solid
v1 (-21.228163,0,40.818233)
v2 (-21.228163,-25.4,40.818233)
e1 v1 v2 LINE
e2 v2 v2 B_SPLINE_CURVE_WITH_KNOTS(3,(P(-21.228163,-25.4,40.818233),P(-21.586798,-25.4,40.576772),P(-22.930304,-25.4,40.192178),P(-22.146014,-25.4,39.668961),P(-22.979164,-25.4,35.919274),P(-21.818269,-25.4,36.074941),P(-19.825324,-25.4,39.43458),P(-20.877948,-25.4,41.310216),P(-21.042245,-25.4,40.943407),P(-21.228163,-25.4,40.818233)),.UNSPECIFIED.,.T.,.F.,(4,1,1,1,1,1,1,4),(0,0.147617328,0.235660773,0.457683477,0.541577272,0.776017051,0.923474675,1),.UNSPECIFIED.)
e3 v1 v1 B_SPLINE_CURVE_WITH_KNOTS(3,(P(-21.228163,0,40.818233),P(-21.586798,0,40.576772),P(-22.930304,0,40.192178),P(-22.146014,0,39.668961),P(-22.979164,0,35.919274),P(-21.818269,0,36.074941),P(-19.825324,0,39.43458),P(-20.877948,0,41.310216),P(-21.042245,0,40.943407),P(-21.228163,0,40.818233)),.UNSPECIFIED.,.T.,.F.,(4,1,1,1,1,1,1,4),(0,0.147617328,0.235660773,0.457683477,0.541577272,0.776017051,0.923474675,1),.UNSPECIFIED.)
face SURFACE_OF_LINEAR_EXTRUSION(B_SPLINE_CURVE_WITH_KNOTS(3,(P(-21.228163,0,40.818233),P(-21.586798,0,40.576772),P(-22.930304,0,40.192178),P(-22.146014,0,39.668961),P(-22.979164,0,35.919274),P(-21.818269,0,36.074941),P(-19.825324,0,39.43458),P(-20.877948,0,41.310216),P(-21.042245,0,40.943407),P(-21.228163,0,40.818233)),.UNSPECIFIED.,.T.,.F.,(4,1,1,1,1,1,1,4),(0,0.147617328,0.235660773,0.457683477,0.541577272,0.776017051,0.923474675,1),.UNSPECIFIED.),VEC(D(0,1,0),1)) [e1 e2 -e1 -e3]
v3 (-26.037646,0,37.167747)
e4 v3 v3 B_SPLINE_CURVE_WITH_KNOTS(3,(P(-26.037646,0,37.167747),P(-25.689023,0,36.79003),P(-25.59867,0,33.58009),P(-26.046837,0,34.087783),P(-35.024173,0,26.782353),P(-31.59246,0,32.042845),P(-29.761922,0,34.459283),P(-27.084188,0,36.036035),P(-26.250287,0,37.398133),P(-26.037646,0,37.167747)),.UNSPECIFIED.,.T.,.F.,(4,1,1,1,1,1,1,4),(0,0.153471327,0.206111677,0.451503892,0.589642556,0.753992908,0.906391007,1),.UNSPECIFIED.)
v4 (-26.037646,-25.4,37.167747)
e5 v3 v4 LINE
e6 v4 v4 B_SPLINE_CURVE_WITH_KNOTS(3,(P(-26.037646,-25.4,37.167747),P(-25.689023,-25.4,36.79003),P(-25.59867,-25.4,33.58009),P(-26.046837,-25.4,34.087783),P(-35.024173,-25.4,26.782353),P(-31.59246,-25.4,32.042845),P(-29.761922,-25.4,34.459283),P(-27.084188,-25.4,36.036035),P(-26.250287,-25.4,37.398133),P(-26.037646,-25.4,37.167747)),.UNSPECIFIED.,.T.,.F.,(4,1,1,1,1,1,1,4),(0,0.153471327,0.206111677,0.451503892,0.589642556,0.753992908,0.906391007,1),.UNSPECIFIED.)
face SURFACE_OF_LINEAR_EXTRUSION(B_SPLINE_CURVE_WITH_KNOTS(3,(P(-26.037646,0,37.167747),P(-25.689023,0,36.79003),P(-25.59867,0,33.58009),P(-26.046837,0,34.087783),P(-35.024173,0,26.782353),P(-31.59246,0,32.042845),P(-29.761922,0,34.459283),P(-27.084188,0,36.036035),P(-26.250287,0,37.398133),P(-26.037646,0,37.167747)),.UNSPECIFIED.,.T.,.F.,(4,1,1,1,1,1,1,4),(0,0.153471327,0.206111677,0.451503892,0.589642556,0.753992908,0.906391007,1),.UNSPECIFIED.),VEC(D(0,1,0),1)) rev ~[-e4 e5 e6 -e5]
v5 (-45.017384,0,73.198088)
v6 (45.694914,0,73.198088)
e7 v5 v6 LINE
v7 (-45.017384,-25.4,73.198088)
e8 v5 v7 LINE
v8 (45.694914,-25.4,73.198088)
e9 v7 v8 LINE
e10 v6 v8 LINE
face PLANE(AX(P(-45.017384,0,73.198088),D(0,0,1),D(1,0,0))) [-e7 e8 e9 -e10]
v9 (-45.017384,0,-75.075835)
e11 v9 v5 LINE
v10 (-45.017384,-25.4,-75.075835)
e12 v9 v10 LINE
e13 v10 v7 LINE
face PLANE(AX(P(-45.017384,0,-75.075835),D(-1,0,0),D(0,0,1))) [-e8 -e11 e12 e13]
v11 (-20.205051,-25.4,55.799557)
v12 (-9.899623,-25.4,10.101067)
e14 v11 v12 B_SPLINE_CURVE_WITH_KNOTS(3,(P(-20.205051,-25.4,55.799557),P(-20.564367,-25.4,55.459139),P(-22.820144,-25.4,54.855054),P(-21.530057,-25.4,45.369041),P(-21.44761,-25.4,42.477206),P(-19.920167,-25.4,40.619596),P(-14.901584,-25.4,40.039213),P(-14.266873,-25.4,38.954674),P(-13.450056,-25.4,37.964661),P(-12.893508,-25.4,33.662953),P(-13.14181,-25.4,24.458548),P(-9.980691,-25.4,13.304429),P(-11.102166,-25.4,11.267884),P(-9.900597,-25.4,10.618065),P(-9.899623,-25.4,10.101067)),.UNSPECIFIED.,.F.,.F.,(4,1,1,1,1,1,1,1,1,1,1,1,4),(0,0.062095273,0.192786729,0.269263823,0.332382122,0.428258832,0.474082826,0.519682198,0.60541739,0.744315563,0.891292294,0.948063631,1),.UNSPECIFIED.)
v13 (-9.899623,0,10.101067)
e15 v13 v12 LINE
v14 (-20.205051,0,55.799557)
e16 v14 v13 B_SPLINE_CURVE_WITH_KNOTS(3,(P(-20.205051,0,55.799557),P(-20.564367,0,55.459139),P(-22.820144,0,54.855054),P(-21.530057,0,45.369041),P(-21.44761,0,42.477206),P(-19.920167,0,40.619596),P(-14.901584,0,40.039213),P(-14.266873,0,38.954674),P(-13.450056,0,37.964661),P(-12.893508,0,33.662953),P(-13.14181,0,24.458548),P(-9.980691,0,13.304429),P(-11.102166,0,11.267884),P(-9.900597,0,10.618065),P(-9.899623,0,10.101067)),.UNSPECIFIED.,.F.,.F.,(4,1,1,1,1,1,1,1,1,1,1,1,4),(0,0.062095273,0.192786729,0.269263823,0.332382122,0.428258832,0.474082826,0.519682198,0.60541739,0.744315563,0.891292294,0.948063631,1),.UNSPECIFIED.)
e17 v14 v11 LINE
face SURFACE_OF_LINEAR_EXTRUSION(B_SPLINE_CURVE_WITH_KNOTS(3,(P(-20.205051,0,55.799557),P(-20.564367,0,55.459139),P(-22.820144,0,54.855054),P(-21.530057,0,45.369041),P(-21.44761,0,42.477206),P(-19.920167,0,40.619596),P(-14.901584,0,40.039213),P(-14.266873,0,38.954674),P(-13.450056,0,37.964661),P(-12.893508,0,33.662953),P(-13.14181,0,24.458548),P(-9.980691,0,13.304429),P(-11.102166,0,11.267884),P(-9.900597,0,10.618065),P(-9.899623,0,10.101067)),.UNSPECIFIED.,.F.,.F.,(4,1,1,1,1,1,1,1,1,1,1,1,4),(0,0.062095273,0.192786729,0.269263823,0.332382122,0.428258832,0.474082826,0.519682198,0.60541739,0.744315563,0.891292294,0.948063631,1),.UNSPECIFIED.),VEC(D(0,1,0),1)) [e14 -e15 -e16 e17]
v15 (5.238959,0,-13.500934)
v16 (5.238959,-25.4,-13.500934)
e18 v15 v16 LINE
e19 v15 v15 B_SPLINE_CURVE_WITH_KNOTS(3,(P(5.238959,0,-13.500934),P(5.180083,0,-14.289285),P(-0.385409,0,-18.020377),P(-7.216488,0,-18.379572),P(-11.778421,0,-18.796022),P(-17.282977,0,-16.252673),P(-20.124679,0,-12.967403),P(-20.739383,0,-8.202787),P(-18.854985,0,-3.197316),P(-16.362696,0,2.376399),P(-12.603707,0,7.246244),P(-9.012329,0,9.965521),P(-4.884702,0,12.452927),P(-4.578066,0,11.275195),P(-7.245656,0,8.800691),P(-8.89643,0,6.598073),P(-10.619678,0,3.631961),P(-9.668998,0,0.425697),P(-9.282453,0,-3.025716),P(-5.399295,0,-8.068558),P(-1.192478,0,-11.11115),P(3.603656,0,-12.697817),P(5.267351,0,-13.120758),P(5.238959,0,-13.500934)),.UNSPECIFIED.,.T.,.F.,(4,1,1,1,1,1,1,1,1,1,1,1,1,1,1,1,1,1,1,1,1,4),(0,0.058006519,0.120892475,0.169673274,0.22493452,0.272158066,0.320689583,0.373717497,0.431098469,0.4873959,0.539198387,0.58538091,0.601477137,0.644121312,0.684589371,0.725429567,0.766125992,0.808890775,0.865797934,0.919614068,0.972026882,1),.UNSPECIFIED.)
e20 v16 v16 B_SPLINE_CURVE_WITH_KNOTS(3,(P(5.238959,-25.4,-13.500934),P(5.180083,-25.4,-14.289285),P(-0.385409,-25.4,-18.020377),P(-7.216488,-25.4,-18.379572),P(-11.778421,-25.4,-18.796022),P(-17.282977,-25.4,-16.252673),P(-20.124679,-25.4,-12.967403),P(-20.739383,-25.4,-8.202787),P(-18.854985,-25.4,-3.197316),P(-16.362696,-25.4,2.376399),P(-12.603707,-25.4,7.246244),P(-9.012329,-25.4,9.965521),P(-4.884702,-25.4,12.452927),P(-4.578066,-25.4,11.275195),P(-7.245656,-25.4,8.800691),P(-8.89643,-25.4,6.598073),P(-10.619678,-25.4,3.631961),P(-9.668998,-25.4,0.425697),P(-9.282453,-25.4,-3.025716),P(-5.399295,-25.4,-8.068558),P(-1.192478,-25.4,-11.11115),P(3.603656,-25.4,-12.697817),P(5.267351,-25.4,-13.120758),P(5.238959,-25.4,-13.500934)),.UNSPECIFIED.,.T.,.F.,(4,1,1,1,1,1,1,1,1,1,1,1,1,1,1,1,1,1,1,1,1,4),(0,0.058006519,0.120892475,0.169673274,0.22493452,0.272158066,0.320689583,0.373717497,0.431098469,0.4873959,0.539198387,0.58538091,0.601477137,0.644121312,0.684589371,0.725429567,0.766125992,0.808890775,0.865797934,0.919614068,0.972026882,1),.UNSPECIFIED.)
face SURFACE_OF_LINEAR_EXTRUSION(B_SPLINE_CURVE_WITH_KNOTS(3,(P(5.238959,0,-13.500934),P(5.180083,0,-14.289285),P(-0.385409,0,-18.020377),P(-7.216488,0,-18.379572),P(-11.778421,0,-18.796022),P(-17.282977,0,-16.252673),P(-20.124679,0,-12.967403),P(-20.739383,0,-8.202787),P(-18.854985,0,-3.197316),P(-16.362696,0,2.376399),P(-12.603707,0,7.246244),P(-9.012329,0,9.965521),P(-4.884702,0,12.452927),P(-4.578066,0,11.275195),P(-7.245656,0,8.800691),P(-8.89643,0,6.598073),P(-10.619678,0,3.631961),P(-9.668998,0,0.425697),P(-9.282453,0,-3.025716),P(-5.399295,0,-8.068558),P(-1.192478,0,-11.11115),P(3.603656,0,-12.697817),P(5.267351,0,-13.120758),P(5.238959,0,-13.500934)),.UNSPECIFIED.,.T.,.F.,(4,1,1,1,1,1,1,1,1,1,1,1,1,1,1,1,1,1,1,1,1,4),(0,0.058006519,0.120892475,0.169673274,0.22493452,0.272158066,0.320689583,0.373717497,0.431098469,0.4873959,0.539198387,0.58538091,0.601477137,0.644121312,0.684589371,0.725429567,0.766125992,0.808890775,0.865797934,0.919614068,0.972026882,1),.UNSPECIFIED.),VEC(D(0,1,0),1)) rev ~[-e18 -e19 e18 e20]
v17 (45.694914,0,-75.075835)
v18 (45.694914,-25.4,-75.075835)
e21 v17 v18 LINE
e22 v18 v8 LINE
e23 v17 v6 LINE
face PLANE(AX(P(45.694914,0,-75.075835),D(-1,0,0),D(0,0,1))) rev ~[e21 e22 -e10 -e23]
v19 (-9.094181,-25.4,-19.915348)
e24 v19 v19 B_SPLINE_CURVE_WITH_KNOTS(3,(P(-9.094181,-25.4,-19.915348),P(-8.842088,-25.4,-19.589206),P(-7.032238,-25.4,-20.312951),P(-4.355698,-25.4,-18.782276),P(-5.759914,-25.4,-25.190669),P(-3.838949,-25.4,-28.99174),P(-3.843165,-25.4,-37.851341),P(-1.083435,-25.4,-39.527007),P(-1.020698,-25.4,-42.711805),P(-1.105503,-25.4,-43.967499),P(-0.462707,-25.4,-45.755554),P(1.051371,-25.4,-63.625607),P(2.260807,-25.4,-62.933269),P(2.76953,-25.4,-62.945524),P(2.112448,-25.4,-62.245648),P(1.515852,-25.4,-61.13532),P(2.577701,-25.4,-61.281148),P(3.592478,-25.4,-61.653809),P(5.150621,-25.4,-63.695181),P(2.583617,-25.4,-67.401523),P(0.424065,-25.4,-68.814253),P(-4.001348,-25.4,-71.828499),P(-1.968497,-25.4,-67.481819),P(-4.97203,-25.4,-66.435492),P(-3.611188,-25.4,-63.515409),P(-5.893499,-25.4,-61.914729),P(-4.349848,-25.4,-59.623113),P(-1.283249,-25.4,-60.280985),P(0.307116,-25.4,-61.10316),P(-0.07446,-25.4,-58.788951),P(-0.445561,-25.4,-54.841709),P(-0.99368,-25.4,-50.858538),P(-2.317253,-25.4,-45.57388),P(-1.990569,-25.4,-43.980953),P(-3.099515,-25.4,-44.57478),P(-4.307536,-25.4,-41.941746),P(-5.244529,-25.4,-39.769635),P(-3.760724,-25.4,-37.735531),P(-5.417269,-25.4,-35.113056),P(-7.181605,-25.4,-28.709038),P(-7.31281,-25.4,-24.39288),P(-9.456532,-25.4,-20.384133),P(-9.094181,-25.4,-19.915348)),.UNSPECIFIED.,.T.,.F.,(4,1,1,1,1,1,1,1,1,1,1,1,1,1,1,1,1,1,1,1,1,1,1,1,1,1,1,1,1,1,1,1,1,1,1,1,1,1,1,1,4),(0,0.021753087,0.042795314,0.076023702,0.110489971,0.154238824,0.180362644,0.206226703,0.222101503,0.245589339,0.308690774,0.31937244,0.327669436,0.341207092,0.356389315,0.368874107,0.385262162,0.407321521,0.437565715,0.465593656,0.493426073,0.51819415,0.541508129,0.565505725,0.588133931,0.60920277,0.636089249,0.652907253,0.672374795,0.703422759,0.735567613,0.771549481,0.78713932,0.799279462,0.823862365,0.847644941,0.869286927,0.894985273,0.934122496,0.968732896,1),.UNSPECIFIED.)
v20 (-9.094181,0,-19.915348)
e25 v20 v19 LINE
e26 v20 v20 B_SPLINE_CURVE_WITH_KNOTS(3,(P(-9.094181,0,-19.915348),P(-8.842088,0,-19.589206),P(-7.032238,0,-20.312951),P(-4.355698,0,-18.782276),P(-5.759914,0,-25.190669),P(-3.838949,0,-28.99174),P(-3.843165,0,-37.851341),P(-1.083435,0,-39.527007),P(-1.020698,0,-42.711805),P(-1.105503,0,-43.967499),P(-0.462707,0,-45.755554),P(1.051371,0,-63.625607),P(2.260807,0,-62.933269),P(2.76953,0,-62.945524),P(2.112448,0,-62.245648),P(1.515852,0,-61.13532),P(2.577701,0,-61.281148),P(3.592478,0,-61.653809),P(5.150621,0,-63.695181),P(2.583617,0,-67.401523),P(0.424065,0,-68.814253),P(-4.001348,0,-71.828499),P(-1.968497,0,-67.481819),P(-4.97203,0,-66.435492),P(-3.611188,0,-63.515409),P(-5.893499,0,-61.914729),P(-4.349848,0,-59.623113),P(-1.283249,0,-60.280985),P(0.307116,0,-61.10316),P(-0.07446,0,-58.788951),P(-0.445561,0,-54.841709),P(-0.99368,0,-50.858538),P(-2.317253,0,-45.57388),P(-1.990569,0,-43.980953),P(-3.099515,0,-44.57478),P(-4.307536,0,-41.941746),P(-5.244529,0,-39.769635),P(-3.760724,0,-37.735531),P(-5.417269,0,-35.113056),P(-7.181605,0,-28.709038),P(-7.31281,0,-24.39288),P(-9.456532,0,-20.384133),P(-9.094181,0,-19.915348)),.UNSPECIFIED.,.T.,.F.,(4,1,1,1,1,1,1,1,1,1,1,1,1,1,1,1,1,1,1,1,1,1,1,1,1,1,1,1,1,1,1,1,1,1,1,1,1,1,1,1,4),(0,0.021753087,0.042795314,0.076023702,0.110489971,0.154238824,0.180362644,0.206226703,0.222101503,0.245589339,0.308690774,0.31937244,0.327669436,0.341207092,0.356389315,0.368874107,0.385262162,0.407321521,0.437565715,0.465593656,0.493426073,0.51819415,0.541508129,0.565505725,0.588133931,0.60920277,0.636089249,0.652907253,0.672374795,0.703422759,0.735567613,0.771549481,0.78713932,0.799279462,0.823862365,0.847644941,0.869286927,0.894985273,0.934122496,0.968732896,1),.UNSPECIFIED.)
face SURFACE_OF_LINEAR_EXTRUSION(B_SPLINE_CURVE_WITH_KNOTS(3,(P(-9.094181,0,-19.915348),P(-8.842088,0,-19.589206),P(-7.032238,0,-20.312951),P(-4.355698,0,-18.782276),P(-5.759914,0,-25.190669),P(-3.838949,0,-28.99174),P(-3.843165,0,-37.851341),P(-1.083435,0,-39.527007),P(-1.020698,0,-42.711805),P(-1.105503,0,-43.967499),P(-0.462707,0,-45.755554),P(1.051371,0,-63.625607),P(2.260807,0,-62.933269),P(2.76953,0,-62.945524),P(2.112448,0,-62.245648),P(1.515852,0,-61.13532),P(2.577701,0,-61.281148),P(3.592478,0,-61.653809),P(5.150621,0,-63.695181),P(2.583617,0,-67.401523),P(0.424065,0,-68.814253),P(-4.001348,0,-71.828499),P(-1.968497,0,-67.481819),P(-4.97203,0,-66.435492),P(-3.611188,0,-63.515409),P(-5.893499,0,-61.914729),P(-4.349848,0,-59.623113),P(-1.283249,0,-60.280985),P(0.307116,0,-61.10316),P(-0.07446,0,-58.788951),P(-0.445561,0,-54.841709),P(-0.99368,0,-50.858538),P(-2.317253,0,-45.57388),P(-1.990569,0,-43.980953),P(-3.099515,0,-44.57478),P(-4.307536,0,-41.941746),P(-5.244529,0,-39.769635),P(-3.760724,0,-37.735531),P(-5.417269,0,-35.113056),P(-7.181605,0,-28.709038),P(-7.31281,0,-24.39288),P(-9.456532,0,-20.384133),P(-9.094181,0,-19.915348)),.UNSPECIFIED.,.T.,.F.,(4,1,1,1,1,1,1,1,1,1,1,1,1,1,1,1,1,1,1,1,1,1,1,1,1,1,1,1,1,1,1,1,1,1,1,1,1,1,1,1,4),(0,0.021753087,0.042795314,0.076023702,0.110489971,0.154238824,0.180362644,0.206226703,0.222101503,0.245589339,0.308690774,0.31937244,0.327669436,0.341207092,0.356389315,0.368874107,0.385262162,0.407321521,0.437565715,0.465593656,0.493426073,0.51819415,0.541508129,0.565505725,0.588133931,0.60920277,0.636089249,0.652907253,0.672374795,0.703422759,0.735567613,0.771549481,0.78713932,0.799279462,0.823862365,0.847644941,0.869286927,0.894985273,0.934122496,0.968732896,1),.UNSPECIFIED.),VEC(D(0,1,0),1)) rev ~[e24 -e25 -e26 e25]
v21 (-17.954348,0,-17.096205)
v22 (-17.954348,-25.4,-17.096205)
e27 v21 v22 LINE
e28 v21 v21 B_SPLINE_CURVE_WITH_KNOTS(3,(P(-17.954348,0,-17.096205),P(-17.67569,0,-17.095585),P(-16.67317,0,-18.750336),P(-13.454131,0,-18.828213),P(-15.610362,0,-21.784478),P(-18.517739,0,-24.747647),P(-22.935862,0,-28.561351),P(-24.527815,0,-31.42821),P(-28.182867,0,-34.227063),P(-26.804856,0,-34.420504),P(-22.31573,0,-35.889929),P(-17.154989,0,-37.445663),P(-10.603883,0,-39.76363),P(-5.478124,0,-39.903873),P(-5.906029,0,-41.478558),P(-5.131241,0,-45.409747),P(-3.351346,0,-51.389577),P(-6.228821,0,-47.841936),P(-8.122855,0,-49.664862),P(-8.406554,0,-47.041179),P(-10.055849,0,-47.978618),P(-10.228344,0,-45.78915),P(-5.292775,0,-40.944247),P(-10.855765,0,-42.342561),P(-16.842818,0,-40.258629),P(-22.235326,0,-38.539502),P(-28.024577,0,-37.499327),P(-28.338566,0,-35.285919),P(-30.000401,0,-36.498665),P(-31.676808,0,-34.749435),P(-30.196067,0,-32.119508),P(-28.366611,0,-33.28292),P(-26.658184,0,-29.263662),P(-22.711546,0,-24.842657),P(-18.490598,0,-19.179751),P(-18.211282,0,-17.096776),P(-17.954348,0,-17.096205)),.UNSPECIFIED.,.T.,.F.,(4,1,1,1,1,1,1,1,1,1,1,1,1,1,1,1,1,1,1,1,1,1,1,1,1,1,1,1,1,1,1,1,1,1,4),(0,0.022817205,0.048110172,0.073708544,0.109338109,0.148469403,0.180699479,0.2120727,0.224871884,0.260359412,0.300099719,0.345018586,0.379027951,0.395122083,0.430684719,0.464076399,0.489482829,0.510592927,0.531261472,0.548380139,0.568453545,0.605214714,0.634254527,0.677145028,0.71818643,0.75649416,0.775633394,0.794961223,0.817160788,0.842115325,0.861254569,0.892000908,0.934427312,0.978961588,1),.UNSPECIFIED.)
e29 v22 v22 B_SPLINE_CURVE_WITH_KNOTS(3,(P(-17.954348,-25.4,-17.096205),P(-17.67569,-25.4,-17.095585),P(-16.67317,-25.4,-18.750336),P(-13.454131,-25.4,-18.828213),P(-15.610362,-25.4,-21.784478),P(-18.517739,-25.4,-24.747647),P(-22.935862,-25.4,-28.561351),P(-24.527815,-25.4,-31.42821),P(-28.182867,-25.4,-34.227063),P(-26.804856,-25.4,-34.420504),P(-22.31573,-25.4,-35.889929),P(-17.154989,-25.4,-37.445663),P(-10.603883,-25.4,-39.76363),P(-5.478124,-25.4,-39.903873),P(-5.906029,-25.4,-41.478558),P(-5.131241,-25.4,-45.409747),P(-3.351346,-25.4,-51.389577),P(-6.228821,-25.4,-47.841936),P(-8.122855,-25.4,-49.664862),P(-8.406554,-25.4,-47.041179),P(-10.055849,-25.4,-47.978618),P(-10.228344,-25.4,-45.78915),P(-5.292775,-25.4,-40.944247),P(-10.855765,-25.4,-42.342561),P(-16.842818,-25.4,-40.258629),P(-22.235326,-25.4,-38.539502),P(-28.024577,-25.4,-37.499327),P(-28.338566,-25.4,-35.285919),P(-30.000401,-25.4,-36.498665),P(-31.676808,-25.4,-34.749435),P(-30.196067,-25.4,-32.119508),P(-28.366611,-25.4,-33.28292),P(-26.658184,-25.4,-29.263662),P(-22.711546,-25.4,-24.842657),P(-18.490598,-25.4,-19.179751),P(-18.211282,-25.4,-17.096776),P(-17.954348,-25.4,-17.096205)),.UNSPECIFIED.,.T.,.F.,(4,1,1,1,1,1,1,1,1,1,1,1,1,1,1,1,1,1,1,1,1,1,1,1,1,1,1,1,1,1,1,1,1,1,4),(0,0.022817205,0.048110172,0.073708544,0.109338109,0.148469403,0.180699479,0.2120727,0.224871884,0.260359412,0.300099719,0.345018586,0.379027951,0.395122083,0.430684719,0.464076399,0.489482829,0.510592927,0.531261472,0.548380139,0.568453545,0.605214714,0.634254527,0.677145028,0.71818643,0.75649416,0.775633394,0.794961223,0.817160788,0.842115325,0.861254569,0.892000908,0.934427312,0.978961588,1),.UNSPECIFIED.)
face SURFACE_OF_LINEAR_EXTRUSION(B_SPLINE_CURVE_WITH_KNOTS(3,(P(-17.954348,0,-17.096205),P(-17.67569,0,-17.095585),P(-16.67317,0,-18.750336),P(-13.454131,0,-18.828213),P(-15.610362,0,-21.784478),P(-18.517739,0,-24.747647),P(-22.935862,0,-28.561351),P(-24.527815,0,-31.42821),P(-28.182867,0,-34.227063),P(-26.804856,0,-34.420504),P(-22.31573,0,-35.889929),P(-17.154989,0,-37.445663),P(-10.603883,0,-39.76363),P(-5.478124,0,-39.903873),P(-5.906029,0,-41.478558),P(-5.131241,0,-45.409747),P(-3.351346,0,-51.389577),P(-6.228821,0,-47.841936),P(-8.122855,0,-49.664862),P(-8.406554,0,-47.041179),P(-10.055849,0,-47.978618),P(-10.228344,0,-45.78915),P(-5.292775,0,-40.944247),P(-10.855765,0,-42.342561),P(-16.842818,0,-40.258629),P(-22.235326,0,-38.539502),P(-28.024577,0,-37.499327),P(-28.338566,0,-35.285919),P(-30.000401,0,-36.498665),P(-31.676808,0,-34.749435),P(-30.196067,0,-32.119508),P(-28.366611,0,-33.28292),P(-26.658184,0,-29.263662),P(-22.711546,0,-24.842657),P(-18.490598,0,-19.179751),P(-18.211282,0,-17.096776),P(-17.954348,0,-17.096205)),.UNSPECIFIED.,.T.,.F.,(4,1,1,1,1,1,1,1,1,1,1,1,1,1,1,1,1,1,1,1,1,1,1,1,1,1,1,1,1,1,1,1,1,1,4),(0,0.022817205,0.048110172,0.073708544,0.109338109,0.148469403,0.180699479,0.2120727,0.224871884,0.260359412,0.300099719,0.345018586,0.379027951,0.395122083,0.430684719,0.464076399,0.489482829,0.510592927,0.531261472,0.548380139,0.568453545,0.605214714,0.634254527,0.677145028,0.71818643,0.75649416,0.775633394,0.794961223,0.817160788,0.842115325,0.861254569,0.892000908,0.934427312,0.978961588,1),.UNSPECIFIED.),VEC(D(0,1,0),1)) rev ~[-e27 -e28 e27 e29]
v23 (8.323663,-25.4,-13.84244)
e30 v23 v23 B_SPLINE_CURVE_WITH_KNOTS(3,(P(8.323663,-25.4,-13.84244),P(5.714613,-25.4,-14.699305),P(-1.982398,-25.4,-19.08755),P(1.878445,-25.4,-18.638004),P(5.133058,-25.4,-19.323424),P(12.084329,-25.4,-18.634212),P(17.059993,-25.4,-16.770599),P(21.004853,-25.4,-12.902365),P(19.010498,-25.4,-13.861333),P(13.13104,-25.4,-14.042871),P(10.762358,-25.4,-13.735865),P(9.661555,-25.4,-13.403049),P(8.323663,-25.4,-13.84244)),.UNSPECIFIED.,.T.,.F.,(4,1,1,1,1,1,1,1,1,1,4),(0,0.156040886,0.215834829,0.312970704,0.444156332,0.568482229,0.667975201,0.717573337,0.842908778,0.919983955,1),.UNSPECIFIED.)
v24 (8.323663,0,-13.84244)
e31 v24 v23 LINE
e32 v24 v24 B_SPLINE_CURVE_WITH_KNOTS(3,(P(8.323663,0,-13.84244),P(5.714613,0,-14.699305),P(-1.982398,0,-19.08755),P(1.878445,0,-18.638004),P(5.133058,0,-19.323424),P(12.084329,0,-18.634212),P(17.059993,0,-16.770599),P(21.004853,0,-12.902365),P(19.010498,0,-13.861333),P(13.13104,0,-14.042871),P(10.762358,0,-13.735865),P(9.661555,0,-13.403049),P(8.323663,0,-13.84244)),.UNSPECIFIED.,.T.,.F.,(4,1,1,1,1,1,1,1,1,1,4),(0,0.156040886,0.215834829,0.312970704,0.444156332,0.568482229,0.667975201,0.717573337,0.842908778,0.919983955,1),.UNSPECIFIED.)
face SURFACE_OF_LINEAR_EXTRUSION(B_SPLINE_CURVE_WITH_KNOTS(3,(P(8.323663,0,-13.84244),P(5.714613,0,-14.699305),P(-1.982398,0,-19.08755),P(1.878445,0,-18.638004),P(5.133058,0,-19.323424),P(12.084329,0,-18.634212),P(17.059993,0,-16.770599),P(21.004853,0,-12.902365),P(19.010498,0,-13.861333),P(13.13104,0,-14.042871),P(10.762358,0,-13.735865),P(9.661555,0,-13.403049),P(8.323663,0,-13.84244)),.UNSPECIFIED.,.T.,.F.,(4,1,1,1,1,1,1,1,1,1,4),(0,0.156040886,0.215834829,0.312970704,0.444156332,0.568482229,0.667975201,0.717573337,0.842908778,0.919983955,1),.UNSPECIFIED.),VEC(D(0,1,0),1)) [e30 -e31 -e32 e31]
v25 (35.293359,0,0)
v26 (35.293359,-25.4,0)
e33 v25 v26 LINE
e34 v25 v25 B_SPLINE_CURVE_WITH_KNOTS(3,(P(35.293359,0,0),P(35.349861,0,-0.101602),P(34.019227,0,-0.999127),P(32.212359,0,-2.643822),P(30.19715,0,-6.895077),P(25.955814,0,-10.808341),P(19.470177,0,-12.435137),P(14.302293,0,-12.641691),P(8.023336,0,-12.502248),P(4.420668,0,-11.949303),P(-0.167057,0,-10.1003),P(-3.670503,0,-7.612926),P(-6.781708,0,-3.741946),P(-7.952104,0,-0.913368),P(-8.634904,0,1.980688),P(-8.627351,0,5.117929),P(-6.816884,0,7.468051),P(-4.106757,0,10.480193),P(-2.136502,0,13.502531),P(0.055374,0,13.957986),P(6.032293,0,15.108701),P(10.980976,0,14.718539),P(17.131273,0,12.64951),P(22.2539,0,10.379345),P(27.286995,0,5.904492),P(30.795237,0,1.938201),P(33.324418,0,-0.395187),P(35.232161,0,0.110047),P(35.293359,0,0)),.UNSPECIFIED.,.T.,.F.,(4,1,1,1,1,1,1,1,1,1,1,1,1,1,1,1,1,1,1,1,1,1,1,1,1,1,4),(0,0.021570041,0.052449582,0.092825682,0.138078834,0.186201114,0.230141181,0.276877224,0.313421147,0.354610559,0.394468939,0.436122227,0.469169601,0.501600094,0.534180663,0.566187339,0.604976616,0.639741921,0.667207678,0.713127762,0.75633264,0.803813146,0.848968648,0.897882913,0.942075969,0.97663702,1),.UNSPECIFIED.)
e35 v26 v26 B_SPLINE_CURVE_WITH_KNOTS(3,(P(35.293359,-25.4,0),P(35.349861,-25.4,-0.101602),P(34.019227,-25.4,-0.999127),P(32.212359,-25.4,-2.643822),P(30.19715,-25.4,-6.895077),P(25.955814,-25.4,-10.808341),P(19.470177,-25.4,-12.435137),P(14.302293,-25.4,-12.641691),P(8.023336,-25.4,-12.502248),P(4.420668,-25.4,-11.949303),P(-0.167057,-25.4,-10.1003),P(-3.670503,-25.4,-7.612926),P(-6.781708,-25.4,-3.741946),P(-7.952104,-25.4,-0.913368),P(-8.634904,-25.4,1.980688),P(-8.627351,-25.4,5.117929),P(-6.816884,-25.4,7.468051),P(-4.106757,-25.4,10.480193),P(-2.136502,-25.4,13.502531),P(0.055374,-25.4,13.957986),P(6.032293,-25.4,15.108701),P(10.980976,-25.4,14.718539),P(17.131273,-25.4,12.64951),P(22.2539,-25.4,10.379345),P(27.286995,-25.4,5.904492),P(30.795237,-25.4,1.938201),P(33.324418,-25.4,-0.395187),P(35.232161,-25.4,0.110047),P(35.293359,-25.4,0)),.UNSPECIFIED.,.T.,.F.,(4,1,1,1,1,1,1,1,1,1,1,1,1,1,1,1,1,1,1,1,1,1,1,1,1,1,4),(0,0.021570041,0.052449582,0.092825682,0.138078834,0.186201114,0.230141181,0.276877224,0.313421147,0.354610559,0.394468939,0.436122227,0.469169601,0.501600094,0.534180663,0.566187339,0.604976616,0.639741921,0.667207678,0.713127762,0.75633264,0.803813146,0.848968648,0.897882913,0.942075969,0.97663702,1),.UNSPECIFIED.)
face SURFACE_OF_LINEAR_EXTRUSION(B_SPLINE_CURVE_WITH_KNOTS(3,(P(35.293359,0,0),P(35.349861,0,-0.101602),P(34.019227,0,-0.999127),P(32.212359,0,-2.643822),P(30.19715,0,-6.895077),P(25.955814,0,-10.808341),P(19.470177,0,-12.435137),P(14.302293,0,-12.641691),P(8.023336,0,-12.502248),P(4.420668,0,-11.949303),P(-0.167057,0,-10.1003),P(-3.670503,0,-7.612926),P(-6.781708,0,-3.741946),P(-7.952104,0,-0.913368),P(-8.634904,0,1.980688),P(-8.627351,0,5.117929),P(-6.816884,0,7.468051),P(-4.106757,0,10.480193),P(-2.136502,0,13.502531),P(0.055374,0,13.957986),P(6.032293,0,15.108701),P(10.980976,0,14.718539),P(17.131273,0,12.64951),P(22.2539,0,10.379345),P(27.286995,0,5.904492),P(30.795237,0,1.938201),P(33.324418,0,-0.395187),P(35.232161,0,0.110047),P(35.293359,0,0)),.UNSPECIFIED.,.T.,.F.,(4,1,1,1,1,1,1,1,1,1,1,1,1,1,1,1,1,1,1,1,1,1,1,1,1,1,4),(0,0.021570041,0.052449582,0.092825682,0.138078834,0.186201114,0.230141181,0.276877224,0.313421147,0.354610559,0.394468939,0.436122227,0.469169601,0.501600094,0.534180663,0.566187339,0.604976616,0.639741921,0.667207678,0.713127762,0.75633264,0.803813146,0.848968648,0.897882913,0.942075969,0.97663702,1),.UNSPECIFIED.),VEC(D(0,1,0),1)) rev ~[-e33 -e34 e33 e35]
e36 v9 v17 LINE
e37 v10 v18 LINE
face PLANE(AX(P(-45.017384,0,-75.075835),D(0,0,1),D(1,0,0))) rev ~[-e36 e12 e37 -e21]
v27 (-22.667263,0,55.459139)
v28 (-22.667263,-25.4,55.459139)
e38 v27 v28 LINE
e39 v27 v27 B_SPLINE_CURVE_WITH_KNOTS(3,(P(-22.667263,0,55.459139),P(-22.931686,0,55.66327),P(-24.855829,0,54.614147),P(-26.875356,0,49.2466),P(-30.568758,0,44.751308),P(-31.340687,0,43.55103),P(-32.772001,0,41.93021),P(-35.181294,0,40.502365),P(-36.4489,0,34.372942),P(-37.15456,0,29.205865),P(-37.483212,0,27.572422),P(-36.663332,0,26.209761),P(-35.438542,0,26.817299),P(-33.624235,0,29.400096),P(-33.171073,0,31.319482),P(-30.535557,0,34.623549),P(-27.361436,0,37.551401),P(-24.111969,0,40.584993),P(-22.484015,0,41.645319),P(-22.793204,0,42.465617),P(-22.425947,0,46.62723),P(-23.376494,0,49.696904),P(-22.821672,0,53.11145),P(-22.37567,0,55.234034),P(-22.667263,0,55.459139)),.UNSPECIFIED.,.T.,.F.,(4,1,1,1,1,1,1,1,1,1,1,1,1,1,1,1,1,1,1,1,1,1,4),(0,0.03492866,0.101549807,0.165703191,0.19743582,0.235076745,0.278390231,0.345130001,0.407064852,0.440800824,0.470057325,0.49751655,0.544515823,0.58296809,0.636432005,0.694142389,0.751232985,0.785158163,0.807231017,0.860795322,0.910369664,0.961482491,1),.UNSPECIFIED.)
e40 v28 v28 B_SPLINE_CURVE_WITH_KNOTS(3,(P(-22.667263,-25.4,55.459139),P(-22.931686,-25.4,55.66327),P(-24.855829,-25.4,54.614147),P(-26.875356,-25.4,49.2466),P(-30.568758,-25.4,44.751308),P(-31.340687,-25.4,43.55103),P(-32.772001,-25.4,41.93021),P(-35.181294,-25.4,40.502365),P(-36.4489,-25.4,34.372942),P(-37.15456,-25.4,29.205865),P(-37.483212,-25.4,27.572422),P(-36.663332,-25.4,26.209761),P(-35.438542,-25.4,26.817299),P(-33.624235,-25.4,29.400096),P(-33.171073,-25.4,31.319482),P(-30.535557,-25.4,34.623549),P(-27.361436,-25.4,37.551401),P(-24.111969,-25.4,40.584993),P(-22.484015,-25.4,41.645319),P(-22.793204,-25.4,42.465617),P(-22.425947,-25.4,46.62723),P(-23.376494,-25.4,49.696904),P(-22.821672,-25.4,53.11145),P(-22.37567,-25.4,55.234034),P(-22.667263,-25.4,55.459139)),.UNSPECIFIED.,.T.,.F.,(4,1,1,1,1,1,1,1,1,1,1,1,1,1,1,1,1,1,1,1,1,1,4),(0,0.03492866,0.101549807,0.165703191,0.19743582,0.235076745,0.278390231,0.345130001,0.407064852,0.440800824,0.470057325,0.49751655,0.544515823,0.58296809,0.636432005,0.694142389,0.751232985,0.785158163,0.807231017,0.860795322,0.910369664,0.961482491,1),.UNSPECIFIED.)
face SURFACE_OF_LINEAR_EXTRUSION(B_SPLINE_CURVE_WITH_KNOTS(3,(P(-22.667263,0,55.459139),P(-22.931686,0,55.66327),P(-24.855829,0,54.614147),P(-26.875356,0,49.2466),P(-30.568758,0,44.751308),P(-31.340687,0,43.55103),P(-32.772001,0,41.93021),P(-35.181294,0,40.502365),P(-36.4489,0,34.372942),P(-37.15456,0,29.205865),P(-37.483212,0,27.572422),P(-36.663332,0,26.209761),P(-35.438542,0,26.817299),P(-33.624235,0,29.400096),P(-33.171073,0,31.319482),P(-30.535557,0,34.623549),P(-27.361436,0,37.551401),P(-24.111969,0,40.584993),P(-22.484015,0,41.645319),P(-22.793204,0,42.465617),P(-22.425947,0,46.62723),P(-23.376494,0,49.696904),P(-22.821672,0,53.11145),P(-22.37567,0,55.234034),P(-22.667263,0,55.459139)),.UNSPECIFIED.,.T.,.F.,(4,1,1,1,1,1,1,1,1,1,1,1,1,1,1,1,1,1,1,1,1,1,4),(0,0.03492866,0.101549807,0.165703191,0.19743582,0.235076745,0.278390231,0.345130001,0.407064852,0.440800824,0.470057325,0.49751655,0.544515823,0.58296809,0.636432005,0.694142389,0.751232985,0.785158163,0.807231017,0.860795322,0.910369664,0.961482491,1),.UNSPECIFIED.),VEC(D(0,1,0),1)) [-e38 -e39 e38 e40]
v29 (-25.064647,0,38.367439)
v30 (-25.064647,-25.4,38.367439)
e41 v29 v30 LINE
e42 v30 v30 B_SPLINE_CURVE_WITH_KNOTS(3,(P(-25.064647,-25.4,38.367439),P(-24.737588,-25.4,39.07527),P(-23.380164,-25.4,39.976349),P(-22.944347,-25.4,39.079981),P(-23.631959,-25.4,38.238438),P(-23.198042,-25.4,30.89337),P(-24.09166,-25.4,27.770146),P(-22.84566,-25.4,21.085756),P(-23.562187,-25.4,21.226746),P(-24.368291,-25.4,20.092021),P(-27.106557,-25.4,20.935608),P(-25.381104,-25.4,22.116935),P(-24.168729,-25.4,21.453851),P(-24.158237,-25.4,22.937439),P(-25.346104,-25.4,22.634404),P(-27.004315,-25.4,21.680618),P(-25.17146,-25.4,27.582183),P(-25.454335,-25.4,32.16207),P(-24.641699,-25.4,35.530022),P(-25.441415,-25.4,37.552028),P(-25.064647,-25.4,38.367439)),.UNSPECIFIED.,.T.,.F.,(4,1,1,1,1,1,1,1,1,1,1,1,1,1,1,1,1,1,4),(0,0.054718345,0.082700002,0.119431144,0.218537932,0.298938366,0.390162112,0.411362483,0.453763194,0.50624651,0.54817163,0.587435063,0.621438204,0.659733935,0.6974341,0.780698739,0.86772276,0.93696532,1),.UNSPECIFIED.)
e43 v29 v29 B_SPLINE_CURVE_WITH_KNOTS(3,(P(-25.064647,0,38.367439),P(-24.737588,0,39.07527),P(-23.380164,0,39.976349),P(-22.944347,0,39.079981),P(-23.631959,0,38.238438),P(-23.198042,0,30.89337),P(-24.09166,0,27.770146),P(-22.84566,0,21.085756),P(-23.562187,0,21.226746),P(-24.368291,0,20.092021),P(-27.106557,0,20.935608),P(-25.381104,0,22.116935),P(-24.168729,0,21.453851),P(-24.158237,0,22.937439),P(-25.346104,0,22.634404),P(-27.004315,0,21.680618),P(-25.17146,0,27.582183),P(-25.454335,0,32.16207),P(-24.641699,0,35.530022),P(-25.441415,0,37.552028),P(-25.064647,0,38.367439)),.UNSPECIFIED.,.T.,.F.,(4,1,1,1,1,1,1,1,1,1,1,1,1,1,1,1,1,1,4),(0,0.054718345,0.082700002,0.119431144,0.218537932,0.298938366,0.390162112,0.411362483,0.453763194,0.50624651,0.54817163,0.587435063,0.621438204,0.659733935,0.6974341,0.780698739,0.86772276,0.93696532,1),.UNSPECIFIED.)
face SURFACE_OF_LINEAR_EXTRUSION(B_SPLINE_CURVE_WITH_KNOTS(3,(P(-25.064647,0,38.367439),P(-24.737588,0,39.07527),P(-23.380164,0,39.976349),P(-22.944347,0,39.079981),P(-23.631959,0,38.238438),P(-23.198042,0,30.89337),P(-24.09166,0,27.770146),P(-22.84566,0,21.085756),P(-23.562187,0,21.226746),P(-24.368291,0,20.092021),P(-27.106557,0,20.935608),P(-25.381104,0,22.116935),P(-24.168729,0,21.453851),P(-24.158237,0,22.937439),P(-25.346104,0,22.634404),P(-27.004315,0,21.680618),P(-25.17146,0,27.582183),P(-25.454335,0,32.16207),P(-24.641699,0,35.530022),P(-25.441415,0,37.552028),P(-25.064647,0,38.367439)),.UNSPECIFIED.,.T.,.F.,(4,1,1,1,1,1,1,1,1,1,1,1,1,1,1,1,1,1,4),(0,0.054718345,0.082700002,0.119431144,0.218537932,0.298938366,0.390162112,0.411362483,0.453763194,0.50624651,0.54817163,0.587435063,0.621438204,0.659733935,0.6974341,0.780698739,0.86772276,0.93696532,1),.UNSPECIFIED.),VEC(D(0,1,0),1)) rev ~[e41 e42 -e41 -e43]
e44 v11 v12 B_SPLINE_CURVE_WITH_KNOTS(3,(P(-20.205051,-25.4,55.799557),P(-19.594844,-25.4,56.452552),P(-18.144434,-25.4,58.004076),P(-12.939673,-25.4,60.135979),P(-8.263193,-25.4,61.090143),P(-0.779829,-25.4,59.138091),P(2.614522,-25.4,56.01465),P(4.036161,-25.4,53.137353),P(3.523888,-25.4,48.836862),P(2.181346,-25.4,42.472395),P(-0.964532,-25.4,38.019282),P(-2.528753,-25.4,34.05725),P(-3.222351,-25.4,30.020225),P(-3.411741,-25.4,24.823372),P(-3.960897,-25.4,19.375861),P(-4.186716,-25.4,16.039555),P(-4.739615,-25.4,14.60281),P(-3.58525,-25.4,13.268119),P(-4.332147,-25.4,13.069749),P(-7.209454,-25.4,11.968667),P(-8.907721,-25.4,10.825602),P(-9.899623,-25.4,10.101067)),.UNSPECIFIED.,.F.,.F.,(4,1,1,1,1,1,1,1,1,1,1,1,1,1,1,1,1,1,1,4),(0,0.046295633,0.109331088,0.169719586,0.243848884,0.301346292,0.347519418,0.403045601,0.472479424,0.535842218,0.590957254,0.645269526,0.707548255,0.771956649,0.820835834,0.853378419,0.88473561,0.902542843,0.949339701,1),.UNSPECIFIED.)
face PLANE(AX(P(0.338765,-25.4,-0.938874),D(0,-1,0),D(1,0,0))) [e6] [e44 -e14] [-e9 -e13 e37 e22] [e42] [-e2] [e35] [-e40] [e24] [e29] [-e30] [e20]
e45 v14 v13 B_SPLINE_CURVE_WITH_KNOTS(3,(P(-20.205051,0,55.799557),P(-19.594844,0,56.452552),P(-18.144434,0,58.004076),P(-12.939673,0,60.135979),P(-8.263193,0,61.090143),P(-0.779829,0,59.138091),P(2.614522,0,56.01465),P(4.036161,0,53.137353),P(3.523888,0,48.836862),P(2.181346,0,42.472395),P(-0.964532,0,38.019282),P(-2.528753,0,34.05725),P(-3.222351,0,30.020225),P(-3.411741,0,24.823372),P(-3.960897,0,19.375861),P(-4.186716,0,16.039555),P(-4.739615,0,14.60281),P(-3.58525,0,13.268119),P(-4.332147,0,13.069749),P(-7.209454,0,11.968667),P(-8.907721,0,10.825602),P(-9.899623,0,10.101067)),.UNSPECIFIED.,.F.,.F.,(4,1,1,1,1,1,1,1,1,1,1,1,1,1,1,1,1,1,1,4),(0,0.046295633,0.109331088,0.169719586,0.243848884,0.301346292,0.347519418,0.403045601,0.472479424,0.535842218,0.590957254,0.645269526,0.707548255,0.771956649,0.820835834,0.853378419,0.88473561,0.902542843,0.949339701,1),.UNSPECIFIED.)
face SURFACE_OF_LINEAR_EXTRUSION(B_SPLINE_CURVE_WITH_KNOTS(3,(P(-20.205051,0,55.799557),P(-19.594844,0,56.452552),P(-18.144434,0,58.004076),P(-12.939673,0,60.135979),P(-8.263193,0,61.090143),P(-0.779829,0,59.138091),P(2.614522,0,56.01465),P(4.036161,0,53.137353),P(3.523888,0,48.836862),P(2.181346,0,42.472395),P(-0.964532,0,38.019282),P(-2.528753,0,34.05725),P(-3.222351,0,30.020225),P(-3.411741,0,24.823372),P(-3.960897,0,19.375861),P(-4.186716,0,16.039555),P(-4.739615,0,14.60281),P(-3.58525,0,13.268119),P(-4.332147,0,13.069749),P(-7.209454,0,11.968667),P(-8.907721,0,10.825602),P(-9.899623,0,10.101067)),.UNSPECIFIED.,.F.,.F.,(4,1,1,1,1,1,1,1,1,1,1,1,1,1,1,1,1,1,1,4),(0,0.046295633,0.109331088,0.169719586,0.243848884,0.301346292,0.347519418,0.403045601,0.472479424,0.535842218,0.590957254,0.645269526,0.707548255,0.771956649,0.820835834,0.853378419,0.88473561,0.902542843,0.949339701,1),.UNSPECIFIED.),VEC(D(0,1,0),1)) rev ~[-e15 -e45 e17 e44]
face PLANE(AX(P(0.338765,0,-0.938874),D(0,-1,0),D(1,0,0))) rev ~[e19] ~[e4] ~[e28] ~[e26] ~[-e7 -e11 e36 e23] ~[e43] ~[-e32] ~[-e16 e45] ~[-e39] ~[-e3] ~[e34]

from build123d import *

# Parameters (mm, degrees)
F0_W     = 90.7122977078
F0_H     = 148.273922503
F1_DEPTH = 25.4


with BuildPart() as f1:
    # F0 (on Front) → F1 (new body)
    with BuildSketch(Plane.XZ):
        with Locations((0.3387648612, -0.9388737381)):
            Rectangle(F0_W, F0_H)
        with BuildLine():
            add(Edge.make_bspline(
                [(-9.0941814706, -19.9153479189), (-8.8420877653, -19.5892060283), (-7.0322380178, -20.3129510563), (-4.355698112, -18.782275836), (-5.7599137943, -25.1906688689), (-3.8389490386, -28.9917400178), (-3.8431645064, -37.8513410975), (-1.0834349686, -39.527006624), (-1.0206975185, -42.7118047268), (-1.1055029625, -43.9674987975), (-0.4627066721, -45.7555544895), (1.0513710711, -63.6256071498), (2.2608071807, -62.933269492), (2.7695303545, -62.9455242711), (2.1124481448, -62.2456479838), (1.5158521645, -61.1353204897), (2.5777006483, -61.2811484016), (3.5924783077, -61.6538087242), (5.150621328, -63.6951808721), (2.5836169187, -67.4015231441), (0.4240654191, -68.8142532454), (-4.0013480063, -71.8284987897), (-1.9684970577, -67.4818189945), (-4.9720295042, -66.4354918086), (-3.6111882978, -63.5154087555), (-5.8934986957, -61.914729426), (-4.3498483211, -59.6231125546), (-1.2832491285, -60.2809845941), (0.3071162409, -61.1031602469), (-0.074459645, -58.7889512031), (-0.4455606168, -54.8417094499), (-0.993680325, -50.858537865), (-2.3172532675, -45.573879581), (-1.9905685902, -43.9809530581), (-3.0995151351, -44.5747796368), (-4.3075355829, -41.9417462669), (-5.2445294256, -39.7696351968), (-3.7607237145, -37.735531275), (-5.4172692501, -35.1130561389), (-7.1816054195, -28.7090381758), (-7.3128098053, -24.3928804212), (-9.4565318826, -20.3841325255), (-9.0941814706, -19.9153479189)],
                knots=[0, 0, 0, 0, 0.0217530869, 0.0427953142, 0.0760237022, 0.1104899707, 0.154238824, 0.1803626436, 0.2062267035, 0.222101503, 0.2455893385, 0.3086907737, 0.3193724402, 0.3276694362, 0.3412070917, 0.356389315, 0.3688741072, 0.385262162, 0.4073215208, 0.4375657149, 0.4655936558, 0.4934260727, 0.5181941505, 0.5415081294, 0.5655057251, 0.5881339308, 0.6092027699, 0.6360892492, 0.6529072533, 0.6723747945, 0.7034227593, 0.7355676135, 0.7715494811, 0.7871393195, 0.7992794623, 0.8238623648, 0.8476449409, 0.8692869266, 0.8949852728, 0.9341224957, 0.9687328964, 1, 1, 1, 1], degree=3))
        make_face(mode=Mode.SUBTRACT)
        with BuildLine():
            add(Edge.make_bspline(
                [(-17.9543476552, -17.0962046832), (-17.6756899524, -17.0955847287), (-16.6731699287, -18.7503364966), (-13.4541305907, -18.8282125697), (-15.6103621819, -21.7844779603), (-18.5177392128, -24.7476465323), (-22.9358622433, -28.5613511049), (-24.5278147862, -31.4282102506), (-28.1828671635, -34.2270626301), (-26.8048558511, -34.4205039725), (-22.3157300209, -35.889929338), (-17.1549886194, -37.4456625181), (-10.6038828895, -39.7636296933), (-5.4781241059, -39.9038732637), (-5.9060293212, -41.4785576558), (-5.1312410389, -45.4097465991), (-3.3513457178, -51.3895772386), (-6.2288208206, -47.8419363082), (-8.1228548374, -49.6648620501), (-8.4065535041, -47.0411791618), (-10.0558489528, -47.9786178171), (-10.2283437035, -45.7891501474), (-5.2927751797, -40.9442472612), (-10.855765477, -42.3425610616), (-16.8428184995, -40.258628647), (-22.2353264491, -38.5395015092), (-28.0245772256, -37.4993274853), (-28.3385656249, -35.2859188984), (-30.0004006327, -36.4986654761), (-31.6768078011, -34.7494349132), (-30.1960672625, -32.1195081093), (-28.3666112741, -33.2829199132), (-26.6581839505, -29.2636618775), (-22.7115464273, -24.8426572203), (-18.4905978644, -19.1797510105), (-18.2112816378, -17.096776307), (-17.9543476552, -17.0962046832)],
                knots=[0, 0, 0, 0, 0.0228172055, 0.0481101716, 0.0737085439, 0.1093381085, 0.1484694034, 0.1806994787, 0.2120727, 0.224871884, 0.2603594115, 0.3000997191, 0.3450185858, 0.3790279514, 0.3951220832, 0.4306847193, 0.464076399, 0.4894828291, 0.5105929266, 0.5312614725, 0.5483801388, 0.5684535449, 0.6052147145, 0.6342545273, 0.6771450283, 0.7181864296, 0.7564941602, 0.7756333937, 0.7949612235, 0.817160788, 0.842115325, 0.8612545691, 0.8920009083, 0.9344273118, 0.9789615883, 1, 1, 1, 1], degree=3))
        make_face(mode=Mode.SUBTRACT)
        with BuildLine():
            add(Edge.make_bspline(
                [(5.2389586344, -13.5009335354), (5.1800833221, -14.289284582), (-0.385408934, -18.0203768168), (-7.2164883515, -18.3795717858), (-11.7784207027, -18.7960224888), (-17.2829767499, -16.252672785), (-20.1246794366, -12.9674031127), (-20.7393825876, -8.2027866695), (-18.8549847714, -3.1973157428), (-16.3626961864, 2.3763994077), (-12.6037072586, 7.2462438775), (-9.0123286205, 9.9655206732), (-4.8847024734, 12.4529274601), (-4.5780656579, 11.2751953466), (-7.2456557886, 8.8006909516), (-8.8964297651, 6.5980732181), (-10.6196776192, 3.6319606947), (-9.6689975232, 0.4256973023), (-9.2824529679, -3.0257156801), (-5.3992951692, -8.0685582662), (-1.192477789, -11.1111495368), (3.6036556123, -12.6978169804), (5.2673507201, -13.1207583903), (5.2389586344, -13.5009335354)],
                knots=[0, 0, 0, 0, 0.058006519, 0.1208924749, 0.1696732739, 0.2249345204, 0.2721580658, 0.3206895829, 0.3737174973, 0.431098469, 0.4873959005, 0.5391983871, 0.5853809104, 0.6014771371, 0.6441213116, 0.6845893711, 0.7254295667, 0.7661259915, 0.8088907753, 0.8657979343, 0.9196140681, 0.9720268821, 1, 1, 1, 1], degree=3))
        make_face(mode=Mode.SUBTRACT)
        with BuildLine():
            add(Edge.make_bspline(
                [(8.3236629143, -13.8424402103), (5.7146130549, -14.6993049693), (-1.9823981396, -19.087549657), (1.8784454474, -18.6380040088), (5.1330582734, -19.3234243681), (12.0843292959, -18.6342118223), (17.0599929467, -16.7705986318), (21.0048528727, -12.9023645775), (19.0104977632, -13.8613331267), (13.1310396083, -14.0428710992), (10.762358244, -13.7358649135), (9.6615549053, -13.4030494128), (8.3236629143, -13.8424402103)],
                knots=[0, 0, 0, 0, 0.1560408855, 0.2158348287, 0.3129707042, 0.4441563322, 0.5684822294, 0.6679752013, 0.7175733366, 0.8429087775, 0.919983955, 1, 1, 1, 1], degree=3))
        make_face(mode=Mode.SUBTRACT)
        with BuildLine():
            add(Edge.make_bspline(
                [(-26.0376464576, 37.1677465737), (-25.6890233027, 36.7900296656), (-25.5986701679, 33.5800897216), (-26.0468367239, 34.0877829805), (-35.0241732325, 26.782353103), (-31.5924599823, 32.0428450358), (-29.7619219168, 34.459282965), (-27.0841884109, 36.0360352812), (-26.2502872366, 37.3981329278), (-26.0376464576, 37.1677465737)],
                knots=[0, 0, 0, 0, 0.1534713267, 0.206111677, 0.4515038923, 0.5896425563, 0.7539929084, 0.906391007, 1, 1, 1, 1], degree=3))
        make_face(mode=Mode.SUBTRACT)
        with BuildLine():
            add(Edge.make_bspline(
                [(-25.0646471977, 38.3674390614), (-24.7375878056, 39.0752703063), (-23.3801644148, 39.976349245), (-22.9443467789, 39.0799812618), (-23.6319587374, 38.2384381193), (-23.1980424457, 30.8933701115), (-24.0916604655, 27.7701455362), (-22.8456603885, 21.0857559325), (-23.562186608, 21.2267464163), (-24.3682908187, 20.0920209828), (-27.1065572827, 20.9356075975), (-25.3811035064, 22.1169350212), (-24.168729156, 21.4538505278), (-24.1582366973, 22.9374391035), (-25.3461044129, 22.6344042137), (-27.0043149742, 21.680617938), (-25.1714600419, 27.582182746), (-25.4543351496, 32.1620701386), (-24.6416991773, 35.5300222171), (-25.441414522, 37.552028495), (-25.0646471977, 38.3674390614)],
                knots=[0, 0, 0, 0, 0.0547183445, 0.0827000018, 0.1194311439, 0.2185379317, 0.2989383664, 0.3901621115, 0.4113624832, 0.4537631939, 0.5062465098, 0.5481716301, 0.5874350635, 0.6214382043, 0.6597339352, 0.6974341002, 0.7806987391, 0.8677227597, 0.9369653196, 1, 1, 1, 1], degree=3))
        make_face(mode=Mode.SUBTRACT)
        with BuildLine():
            add(Edge.make_bspline(
                [(-20.2050513885, 55.7995567565), (-20.5643672442, 55.4591391855), (-22.8201438693, 54.8550537372), (-21.5300573988, 45.3690411506), (-21.4476099025, 42.4772055595), (-19.9201672678, 40.6195955771), (-14.9015842426, 40.039212903), (-14.2668728473, 38.9546744866), (-13.4500558178, 37.9646606029), (-12.8935084462, 33.6629528242), (-13.1418100734, 24.4585477985), (-9.9806914663, 13.3044286952), (-11.102165543, 11.267883984), (-9.9005970737, 10.6180645327), (-9.8996227777, 10.1010668119)],
                knots=[0, 0, 0, 0, 0.0620952734, 0.192786729, 0.2692638229, 0.332382122, 0.4282588317, 0.474082826, 0.5196821983, 0.6054173902, 0.7443155631, 0.8912922938, 0.948063631, 1, 1, 1, 1], degree=3))
            add(Edge.make_bspline(
                [(-20.2050513885, 55.7995567565), (-19.5948437275, 56.4525519993), (-18.144434289, 58.0040757564), (-12.9396733518, 60.1359793255), (-8.2631925622, 61.0901431807), (-0.779828926, 59.1380914776), (2.6145215962, 56.0146495026), (4.0361614651, 53.1373526106), (3.5238882593, 48.836861695), (2.1813462591, 42.472394504), (-0.9645318154, 38.0192824201), (-2.5287533608, 34.057249835), (-3.2223506536, 30.0202253504), (-3.4117405336, 24.8233721972), (-3.9608972965, 19.3758606015), (-4.186715644, 16.0395547317), (-4.7396153106, 14.602809745), (-3.585249576, 13.2681194577), (-4.33214731, 13.0697490731), (-7.2094543463, 11.9686667546), (-8.9077205676, 10.8256021509), (-9.8996227777, 10.1010668119)],
                knots=[0, 0, 0, 0, 0.0462956332, 0.1093310884, 0.1697195856, 0.2438488841, 0.3013462921, 0.3475194176, 0.4030456009, 0.4724794239, 0.535842218, 0.5909572544, 0.6452695262, 0.7075482545, 0.7719566486, 0.8208358341, 0.8533784189, 0.8847356101, 0.9025428429, 0.9493397005, 1, 1, 1, 1], degree=3))
        make_face(mode=Mode.SUBTRACT)
        with BuildLine():
            add(Edge.make_bspline(
                [(-22.6672627032, 55.4591391855), (-22.9316860666, 55.6632699349), (-24.855829155, 54.6141468071), (-26.8753564204, 49.246600321), (-30.5687580259, 44.7513082087), (-31.3406872861, 43.5510304414), (-32.7720012845, 41.9302097345), (-35.1812943522, 40.5023651964), (-36.4489001382, 34.3729415479), (-37.1545604996, 29.2058649695), (-37.4832116152, 27.5724223776), (-36.6633316928, 26.2097607249), (-35.4385421247, 26.8172987044), (-33.624234812, 29.4000958337), (-33.1710732518, 31.3194816443), (-30.5355565274, 34.6235489012), (-27.3614357368, 37.5514006222), (-24.1119689403, 40.5849933346), (-22.4840147878, 41.6453188107), (-22.793204046, 42.4656173911), (-22.4259474642, 46.6272300952), (-23.3764940789, 49.6969044535), (-22.8216721046, 53.1114499564), (-22.3756703731, 55.2340344138), (-22.6672627032, 55.4591391855)],
                knots=[0, 0, 0, 0, 0.0349286597, 0.1015498073, 0.1657031908, 0.1974358201, 0.2350767448, 0.2783902315, 0.345130001, 0.4070648517, 0.4408008238, 0.4700573247, 0.49751655, 0.5445158226, 0.5829680902, 0.6364320052, 0.6941423892, 0.7512329847, 0.7851581631, 0.8072310166, 0.8607953219, 0.9103696644, 0.961482491, 1, 1, 1, 1], degree=3))
        make_face(mode=Mode.SUBTRACT)
        with BuildLine():
            add(Edge.make_bspline(
                [(-21.2281625718, 40.818233043), (-21.5867978495, 40.5767720159), (-22.9303037667, 40.192177906), (-22.1460144772, 39.6689606443), (-22.9791635628, 35.9192743558), (-21.8182689072, 36.0749413622), (-19.8253242515, 39.4345803522), (-20.877947886, 41.3102156435), (-21.0422448248, 40.9434072601), (-21.2281625718, 40.818233043)],
                knots=[0, 0, 0, 0, 0.1476173281, 0.2356607733, 0.4576834775, 0.5415772725, 0.7760170513, 0.9234746754, 1, 1, 1, 1], degree=3))
        make_face(mode=Mode.SUBTRACT)
        with BuildLine():
            add(Edge.make_bspline(
                [(35.2933593094, 0), (35.3498614936, -0.1016019522), (34.0192271628, -0.9991271891), (32.2123587892, -2.6438215816), (30.1971495721, -6.8950766514), (25.9558138862, -10.8083409943), (19.4701770512, -12.4351372766), (14.3022932909, -12.6416909718), (8.0233363569, -12.5022481776), (4.420667913, -11.9493031657), (-0.1670572256, -10.1002997436), (-3.6705034578, -7.6129263884), (-6.7817084877, -3.7419462084), (-7.952104288, -0.9133675406), (-8.6349040599, 1.9806879769), (-8.6273509034, 5.1179285593), (-6.8168838213, 7.4680506187), (-4.1067568025, 10.4801932434), (-2.1365023872, 13.5025311447), (0.0553737132, 13.9579863063), (6.0322932405, 15.1087007574), (10.9809763523, 14.7185392041), (17.1312726841, 12.6495103897), (22.2538997306, 10.3793448901), (27.2869954035, 5.9044923324), (30.7952368196, 1.9382008989), (33.324418449, -0.3951868918), (35.2321605667, 0.110047281), (35.2933593094, 0)],
                knots=[0, 0, 0, 0, 0.0215700408, 0.0524495822, 0.0928256819, 0.1380788344, 0.1862011142, 0.2301411809, 0.2768772243, 0.3134211469, 0.3546105593, 0.394468939, 0.4361222269, 0.4691696009, 0.5016000943, 0.5341806628, 0.5661873395, 0.604976616, 0.6397419213, 0.6672076781, 0.7131277621, 0.7563326403, 0.8038131463, 0.8489686481, 0.8978829132, 0.9420759691, 0.9766370203, 1, 1, 1, 1], degree=3))
        make_face(mode=Mode.SUBTRACT)
    extrude(amount=F1_DEPTH)


solid = f1.part
